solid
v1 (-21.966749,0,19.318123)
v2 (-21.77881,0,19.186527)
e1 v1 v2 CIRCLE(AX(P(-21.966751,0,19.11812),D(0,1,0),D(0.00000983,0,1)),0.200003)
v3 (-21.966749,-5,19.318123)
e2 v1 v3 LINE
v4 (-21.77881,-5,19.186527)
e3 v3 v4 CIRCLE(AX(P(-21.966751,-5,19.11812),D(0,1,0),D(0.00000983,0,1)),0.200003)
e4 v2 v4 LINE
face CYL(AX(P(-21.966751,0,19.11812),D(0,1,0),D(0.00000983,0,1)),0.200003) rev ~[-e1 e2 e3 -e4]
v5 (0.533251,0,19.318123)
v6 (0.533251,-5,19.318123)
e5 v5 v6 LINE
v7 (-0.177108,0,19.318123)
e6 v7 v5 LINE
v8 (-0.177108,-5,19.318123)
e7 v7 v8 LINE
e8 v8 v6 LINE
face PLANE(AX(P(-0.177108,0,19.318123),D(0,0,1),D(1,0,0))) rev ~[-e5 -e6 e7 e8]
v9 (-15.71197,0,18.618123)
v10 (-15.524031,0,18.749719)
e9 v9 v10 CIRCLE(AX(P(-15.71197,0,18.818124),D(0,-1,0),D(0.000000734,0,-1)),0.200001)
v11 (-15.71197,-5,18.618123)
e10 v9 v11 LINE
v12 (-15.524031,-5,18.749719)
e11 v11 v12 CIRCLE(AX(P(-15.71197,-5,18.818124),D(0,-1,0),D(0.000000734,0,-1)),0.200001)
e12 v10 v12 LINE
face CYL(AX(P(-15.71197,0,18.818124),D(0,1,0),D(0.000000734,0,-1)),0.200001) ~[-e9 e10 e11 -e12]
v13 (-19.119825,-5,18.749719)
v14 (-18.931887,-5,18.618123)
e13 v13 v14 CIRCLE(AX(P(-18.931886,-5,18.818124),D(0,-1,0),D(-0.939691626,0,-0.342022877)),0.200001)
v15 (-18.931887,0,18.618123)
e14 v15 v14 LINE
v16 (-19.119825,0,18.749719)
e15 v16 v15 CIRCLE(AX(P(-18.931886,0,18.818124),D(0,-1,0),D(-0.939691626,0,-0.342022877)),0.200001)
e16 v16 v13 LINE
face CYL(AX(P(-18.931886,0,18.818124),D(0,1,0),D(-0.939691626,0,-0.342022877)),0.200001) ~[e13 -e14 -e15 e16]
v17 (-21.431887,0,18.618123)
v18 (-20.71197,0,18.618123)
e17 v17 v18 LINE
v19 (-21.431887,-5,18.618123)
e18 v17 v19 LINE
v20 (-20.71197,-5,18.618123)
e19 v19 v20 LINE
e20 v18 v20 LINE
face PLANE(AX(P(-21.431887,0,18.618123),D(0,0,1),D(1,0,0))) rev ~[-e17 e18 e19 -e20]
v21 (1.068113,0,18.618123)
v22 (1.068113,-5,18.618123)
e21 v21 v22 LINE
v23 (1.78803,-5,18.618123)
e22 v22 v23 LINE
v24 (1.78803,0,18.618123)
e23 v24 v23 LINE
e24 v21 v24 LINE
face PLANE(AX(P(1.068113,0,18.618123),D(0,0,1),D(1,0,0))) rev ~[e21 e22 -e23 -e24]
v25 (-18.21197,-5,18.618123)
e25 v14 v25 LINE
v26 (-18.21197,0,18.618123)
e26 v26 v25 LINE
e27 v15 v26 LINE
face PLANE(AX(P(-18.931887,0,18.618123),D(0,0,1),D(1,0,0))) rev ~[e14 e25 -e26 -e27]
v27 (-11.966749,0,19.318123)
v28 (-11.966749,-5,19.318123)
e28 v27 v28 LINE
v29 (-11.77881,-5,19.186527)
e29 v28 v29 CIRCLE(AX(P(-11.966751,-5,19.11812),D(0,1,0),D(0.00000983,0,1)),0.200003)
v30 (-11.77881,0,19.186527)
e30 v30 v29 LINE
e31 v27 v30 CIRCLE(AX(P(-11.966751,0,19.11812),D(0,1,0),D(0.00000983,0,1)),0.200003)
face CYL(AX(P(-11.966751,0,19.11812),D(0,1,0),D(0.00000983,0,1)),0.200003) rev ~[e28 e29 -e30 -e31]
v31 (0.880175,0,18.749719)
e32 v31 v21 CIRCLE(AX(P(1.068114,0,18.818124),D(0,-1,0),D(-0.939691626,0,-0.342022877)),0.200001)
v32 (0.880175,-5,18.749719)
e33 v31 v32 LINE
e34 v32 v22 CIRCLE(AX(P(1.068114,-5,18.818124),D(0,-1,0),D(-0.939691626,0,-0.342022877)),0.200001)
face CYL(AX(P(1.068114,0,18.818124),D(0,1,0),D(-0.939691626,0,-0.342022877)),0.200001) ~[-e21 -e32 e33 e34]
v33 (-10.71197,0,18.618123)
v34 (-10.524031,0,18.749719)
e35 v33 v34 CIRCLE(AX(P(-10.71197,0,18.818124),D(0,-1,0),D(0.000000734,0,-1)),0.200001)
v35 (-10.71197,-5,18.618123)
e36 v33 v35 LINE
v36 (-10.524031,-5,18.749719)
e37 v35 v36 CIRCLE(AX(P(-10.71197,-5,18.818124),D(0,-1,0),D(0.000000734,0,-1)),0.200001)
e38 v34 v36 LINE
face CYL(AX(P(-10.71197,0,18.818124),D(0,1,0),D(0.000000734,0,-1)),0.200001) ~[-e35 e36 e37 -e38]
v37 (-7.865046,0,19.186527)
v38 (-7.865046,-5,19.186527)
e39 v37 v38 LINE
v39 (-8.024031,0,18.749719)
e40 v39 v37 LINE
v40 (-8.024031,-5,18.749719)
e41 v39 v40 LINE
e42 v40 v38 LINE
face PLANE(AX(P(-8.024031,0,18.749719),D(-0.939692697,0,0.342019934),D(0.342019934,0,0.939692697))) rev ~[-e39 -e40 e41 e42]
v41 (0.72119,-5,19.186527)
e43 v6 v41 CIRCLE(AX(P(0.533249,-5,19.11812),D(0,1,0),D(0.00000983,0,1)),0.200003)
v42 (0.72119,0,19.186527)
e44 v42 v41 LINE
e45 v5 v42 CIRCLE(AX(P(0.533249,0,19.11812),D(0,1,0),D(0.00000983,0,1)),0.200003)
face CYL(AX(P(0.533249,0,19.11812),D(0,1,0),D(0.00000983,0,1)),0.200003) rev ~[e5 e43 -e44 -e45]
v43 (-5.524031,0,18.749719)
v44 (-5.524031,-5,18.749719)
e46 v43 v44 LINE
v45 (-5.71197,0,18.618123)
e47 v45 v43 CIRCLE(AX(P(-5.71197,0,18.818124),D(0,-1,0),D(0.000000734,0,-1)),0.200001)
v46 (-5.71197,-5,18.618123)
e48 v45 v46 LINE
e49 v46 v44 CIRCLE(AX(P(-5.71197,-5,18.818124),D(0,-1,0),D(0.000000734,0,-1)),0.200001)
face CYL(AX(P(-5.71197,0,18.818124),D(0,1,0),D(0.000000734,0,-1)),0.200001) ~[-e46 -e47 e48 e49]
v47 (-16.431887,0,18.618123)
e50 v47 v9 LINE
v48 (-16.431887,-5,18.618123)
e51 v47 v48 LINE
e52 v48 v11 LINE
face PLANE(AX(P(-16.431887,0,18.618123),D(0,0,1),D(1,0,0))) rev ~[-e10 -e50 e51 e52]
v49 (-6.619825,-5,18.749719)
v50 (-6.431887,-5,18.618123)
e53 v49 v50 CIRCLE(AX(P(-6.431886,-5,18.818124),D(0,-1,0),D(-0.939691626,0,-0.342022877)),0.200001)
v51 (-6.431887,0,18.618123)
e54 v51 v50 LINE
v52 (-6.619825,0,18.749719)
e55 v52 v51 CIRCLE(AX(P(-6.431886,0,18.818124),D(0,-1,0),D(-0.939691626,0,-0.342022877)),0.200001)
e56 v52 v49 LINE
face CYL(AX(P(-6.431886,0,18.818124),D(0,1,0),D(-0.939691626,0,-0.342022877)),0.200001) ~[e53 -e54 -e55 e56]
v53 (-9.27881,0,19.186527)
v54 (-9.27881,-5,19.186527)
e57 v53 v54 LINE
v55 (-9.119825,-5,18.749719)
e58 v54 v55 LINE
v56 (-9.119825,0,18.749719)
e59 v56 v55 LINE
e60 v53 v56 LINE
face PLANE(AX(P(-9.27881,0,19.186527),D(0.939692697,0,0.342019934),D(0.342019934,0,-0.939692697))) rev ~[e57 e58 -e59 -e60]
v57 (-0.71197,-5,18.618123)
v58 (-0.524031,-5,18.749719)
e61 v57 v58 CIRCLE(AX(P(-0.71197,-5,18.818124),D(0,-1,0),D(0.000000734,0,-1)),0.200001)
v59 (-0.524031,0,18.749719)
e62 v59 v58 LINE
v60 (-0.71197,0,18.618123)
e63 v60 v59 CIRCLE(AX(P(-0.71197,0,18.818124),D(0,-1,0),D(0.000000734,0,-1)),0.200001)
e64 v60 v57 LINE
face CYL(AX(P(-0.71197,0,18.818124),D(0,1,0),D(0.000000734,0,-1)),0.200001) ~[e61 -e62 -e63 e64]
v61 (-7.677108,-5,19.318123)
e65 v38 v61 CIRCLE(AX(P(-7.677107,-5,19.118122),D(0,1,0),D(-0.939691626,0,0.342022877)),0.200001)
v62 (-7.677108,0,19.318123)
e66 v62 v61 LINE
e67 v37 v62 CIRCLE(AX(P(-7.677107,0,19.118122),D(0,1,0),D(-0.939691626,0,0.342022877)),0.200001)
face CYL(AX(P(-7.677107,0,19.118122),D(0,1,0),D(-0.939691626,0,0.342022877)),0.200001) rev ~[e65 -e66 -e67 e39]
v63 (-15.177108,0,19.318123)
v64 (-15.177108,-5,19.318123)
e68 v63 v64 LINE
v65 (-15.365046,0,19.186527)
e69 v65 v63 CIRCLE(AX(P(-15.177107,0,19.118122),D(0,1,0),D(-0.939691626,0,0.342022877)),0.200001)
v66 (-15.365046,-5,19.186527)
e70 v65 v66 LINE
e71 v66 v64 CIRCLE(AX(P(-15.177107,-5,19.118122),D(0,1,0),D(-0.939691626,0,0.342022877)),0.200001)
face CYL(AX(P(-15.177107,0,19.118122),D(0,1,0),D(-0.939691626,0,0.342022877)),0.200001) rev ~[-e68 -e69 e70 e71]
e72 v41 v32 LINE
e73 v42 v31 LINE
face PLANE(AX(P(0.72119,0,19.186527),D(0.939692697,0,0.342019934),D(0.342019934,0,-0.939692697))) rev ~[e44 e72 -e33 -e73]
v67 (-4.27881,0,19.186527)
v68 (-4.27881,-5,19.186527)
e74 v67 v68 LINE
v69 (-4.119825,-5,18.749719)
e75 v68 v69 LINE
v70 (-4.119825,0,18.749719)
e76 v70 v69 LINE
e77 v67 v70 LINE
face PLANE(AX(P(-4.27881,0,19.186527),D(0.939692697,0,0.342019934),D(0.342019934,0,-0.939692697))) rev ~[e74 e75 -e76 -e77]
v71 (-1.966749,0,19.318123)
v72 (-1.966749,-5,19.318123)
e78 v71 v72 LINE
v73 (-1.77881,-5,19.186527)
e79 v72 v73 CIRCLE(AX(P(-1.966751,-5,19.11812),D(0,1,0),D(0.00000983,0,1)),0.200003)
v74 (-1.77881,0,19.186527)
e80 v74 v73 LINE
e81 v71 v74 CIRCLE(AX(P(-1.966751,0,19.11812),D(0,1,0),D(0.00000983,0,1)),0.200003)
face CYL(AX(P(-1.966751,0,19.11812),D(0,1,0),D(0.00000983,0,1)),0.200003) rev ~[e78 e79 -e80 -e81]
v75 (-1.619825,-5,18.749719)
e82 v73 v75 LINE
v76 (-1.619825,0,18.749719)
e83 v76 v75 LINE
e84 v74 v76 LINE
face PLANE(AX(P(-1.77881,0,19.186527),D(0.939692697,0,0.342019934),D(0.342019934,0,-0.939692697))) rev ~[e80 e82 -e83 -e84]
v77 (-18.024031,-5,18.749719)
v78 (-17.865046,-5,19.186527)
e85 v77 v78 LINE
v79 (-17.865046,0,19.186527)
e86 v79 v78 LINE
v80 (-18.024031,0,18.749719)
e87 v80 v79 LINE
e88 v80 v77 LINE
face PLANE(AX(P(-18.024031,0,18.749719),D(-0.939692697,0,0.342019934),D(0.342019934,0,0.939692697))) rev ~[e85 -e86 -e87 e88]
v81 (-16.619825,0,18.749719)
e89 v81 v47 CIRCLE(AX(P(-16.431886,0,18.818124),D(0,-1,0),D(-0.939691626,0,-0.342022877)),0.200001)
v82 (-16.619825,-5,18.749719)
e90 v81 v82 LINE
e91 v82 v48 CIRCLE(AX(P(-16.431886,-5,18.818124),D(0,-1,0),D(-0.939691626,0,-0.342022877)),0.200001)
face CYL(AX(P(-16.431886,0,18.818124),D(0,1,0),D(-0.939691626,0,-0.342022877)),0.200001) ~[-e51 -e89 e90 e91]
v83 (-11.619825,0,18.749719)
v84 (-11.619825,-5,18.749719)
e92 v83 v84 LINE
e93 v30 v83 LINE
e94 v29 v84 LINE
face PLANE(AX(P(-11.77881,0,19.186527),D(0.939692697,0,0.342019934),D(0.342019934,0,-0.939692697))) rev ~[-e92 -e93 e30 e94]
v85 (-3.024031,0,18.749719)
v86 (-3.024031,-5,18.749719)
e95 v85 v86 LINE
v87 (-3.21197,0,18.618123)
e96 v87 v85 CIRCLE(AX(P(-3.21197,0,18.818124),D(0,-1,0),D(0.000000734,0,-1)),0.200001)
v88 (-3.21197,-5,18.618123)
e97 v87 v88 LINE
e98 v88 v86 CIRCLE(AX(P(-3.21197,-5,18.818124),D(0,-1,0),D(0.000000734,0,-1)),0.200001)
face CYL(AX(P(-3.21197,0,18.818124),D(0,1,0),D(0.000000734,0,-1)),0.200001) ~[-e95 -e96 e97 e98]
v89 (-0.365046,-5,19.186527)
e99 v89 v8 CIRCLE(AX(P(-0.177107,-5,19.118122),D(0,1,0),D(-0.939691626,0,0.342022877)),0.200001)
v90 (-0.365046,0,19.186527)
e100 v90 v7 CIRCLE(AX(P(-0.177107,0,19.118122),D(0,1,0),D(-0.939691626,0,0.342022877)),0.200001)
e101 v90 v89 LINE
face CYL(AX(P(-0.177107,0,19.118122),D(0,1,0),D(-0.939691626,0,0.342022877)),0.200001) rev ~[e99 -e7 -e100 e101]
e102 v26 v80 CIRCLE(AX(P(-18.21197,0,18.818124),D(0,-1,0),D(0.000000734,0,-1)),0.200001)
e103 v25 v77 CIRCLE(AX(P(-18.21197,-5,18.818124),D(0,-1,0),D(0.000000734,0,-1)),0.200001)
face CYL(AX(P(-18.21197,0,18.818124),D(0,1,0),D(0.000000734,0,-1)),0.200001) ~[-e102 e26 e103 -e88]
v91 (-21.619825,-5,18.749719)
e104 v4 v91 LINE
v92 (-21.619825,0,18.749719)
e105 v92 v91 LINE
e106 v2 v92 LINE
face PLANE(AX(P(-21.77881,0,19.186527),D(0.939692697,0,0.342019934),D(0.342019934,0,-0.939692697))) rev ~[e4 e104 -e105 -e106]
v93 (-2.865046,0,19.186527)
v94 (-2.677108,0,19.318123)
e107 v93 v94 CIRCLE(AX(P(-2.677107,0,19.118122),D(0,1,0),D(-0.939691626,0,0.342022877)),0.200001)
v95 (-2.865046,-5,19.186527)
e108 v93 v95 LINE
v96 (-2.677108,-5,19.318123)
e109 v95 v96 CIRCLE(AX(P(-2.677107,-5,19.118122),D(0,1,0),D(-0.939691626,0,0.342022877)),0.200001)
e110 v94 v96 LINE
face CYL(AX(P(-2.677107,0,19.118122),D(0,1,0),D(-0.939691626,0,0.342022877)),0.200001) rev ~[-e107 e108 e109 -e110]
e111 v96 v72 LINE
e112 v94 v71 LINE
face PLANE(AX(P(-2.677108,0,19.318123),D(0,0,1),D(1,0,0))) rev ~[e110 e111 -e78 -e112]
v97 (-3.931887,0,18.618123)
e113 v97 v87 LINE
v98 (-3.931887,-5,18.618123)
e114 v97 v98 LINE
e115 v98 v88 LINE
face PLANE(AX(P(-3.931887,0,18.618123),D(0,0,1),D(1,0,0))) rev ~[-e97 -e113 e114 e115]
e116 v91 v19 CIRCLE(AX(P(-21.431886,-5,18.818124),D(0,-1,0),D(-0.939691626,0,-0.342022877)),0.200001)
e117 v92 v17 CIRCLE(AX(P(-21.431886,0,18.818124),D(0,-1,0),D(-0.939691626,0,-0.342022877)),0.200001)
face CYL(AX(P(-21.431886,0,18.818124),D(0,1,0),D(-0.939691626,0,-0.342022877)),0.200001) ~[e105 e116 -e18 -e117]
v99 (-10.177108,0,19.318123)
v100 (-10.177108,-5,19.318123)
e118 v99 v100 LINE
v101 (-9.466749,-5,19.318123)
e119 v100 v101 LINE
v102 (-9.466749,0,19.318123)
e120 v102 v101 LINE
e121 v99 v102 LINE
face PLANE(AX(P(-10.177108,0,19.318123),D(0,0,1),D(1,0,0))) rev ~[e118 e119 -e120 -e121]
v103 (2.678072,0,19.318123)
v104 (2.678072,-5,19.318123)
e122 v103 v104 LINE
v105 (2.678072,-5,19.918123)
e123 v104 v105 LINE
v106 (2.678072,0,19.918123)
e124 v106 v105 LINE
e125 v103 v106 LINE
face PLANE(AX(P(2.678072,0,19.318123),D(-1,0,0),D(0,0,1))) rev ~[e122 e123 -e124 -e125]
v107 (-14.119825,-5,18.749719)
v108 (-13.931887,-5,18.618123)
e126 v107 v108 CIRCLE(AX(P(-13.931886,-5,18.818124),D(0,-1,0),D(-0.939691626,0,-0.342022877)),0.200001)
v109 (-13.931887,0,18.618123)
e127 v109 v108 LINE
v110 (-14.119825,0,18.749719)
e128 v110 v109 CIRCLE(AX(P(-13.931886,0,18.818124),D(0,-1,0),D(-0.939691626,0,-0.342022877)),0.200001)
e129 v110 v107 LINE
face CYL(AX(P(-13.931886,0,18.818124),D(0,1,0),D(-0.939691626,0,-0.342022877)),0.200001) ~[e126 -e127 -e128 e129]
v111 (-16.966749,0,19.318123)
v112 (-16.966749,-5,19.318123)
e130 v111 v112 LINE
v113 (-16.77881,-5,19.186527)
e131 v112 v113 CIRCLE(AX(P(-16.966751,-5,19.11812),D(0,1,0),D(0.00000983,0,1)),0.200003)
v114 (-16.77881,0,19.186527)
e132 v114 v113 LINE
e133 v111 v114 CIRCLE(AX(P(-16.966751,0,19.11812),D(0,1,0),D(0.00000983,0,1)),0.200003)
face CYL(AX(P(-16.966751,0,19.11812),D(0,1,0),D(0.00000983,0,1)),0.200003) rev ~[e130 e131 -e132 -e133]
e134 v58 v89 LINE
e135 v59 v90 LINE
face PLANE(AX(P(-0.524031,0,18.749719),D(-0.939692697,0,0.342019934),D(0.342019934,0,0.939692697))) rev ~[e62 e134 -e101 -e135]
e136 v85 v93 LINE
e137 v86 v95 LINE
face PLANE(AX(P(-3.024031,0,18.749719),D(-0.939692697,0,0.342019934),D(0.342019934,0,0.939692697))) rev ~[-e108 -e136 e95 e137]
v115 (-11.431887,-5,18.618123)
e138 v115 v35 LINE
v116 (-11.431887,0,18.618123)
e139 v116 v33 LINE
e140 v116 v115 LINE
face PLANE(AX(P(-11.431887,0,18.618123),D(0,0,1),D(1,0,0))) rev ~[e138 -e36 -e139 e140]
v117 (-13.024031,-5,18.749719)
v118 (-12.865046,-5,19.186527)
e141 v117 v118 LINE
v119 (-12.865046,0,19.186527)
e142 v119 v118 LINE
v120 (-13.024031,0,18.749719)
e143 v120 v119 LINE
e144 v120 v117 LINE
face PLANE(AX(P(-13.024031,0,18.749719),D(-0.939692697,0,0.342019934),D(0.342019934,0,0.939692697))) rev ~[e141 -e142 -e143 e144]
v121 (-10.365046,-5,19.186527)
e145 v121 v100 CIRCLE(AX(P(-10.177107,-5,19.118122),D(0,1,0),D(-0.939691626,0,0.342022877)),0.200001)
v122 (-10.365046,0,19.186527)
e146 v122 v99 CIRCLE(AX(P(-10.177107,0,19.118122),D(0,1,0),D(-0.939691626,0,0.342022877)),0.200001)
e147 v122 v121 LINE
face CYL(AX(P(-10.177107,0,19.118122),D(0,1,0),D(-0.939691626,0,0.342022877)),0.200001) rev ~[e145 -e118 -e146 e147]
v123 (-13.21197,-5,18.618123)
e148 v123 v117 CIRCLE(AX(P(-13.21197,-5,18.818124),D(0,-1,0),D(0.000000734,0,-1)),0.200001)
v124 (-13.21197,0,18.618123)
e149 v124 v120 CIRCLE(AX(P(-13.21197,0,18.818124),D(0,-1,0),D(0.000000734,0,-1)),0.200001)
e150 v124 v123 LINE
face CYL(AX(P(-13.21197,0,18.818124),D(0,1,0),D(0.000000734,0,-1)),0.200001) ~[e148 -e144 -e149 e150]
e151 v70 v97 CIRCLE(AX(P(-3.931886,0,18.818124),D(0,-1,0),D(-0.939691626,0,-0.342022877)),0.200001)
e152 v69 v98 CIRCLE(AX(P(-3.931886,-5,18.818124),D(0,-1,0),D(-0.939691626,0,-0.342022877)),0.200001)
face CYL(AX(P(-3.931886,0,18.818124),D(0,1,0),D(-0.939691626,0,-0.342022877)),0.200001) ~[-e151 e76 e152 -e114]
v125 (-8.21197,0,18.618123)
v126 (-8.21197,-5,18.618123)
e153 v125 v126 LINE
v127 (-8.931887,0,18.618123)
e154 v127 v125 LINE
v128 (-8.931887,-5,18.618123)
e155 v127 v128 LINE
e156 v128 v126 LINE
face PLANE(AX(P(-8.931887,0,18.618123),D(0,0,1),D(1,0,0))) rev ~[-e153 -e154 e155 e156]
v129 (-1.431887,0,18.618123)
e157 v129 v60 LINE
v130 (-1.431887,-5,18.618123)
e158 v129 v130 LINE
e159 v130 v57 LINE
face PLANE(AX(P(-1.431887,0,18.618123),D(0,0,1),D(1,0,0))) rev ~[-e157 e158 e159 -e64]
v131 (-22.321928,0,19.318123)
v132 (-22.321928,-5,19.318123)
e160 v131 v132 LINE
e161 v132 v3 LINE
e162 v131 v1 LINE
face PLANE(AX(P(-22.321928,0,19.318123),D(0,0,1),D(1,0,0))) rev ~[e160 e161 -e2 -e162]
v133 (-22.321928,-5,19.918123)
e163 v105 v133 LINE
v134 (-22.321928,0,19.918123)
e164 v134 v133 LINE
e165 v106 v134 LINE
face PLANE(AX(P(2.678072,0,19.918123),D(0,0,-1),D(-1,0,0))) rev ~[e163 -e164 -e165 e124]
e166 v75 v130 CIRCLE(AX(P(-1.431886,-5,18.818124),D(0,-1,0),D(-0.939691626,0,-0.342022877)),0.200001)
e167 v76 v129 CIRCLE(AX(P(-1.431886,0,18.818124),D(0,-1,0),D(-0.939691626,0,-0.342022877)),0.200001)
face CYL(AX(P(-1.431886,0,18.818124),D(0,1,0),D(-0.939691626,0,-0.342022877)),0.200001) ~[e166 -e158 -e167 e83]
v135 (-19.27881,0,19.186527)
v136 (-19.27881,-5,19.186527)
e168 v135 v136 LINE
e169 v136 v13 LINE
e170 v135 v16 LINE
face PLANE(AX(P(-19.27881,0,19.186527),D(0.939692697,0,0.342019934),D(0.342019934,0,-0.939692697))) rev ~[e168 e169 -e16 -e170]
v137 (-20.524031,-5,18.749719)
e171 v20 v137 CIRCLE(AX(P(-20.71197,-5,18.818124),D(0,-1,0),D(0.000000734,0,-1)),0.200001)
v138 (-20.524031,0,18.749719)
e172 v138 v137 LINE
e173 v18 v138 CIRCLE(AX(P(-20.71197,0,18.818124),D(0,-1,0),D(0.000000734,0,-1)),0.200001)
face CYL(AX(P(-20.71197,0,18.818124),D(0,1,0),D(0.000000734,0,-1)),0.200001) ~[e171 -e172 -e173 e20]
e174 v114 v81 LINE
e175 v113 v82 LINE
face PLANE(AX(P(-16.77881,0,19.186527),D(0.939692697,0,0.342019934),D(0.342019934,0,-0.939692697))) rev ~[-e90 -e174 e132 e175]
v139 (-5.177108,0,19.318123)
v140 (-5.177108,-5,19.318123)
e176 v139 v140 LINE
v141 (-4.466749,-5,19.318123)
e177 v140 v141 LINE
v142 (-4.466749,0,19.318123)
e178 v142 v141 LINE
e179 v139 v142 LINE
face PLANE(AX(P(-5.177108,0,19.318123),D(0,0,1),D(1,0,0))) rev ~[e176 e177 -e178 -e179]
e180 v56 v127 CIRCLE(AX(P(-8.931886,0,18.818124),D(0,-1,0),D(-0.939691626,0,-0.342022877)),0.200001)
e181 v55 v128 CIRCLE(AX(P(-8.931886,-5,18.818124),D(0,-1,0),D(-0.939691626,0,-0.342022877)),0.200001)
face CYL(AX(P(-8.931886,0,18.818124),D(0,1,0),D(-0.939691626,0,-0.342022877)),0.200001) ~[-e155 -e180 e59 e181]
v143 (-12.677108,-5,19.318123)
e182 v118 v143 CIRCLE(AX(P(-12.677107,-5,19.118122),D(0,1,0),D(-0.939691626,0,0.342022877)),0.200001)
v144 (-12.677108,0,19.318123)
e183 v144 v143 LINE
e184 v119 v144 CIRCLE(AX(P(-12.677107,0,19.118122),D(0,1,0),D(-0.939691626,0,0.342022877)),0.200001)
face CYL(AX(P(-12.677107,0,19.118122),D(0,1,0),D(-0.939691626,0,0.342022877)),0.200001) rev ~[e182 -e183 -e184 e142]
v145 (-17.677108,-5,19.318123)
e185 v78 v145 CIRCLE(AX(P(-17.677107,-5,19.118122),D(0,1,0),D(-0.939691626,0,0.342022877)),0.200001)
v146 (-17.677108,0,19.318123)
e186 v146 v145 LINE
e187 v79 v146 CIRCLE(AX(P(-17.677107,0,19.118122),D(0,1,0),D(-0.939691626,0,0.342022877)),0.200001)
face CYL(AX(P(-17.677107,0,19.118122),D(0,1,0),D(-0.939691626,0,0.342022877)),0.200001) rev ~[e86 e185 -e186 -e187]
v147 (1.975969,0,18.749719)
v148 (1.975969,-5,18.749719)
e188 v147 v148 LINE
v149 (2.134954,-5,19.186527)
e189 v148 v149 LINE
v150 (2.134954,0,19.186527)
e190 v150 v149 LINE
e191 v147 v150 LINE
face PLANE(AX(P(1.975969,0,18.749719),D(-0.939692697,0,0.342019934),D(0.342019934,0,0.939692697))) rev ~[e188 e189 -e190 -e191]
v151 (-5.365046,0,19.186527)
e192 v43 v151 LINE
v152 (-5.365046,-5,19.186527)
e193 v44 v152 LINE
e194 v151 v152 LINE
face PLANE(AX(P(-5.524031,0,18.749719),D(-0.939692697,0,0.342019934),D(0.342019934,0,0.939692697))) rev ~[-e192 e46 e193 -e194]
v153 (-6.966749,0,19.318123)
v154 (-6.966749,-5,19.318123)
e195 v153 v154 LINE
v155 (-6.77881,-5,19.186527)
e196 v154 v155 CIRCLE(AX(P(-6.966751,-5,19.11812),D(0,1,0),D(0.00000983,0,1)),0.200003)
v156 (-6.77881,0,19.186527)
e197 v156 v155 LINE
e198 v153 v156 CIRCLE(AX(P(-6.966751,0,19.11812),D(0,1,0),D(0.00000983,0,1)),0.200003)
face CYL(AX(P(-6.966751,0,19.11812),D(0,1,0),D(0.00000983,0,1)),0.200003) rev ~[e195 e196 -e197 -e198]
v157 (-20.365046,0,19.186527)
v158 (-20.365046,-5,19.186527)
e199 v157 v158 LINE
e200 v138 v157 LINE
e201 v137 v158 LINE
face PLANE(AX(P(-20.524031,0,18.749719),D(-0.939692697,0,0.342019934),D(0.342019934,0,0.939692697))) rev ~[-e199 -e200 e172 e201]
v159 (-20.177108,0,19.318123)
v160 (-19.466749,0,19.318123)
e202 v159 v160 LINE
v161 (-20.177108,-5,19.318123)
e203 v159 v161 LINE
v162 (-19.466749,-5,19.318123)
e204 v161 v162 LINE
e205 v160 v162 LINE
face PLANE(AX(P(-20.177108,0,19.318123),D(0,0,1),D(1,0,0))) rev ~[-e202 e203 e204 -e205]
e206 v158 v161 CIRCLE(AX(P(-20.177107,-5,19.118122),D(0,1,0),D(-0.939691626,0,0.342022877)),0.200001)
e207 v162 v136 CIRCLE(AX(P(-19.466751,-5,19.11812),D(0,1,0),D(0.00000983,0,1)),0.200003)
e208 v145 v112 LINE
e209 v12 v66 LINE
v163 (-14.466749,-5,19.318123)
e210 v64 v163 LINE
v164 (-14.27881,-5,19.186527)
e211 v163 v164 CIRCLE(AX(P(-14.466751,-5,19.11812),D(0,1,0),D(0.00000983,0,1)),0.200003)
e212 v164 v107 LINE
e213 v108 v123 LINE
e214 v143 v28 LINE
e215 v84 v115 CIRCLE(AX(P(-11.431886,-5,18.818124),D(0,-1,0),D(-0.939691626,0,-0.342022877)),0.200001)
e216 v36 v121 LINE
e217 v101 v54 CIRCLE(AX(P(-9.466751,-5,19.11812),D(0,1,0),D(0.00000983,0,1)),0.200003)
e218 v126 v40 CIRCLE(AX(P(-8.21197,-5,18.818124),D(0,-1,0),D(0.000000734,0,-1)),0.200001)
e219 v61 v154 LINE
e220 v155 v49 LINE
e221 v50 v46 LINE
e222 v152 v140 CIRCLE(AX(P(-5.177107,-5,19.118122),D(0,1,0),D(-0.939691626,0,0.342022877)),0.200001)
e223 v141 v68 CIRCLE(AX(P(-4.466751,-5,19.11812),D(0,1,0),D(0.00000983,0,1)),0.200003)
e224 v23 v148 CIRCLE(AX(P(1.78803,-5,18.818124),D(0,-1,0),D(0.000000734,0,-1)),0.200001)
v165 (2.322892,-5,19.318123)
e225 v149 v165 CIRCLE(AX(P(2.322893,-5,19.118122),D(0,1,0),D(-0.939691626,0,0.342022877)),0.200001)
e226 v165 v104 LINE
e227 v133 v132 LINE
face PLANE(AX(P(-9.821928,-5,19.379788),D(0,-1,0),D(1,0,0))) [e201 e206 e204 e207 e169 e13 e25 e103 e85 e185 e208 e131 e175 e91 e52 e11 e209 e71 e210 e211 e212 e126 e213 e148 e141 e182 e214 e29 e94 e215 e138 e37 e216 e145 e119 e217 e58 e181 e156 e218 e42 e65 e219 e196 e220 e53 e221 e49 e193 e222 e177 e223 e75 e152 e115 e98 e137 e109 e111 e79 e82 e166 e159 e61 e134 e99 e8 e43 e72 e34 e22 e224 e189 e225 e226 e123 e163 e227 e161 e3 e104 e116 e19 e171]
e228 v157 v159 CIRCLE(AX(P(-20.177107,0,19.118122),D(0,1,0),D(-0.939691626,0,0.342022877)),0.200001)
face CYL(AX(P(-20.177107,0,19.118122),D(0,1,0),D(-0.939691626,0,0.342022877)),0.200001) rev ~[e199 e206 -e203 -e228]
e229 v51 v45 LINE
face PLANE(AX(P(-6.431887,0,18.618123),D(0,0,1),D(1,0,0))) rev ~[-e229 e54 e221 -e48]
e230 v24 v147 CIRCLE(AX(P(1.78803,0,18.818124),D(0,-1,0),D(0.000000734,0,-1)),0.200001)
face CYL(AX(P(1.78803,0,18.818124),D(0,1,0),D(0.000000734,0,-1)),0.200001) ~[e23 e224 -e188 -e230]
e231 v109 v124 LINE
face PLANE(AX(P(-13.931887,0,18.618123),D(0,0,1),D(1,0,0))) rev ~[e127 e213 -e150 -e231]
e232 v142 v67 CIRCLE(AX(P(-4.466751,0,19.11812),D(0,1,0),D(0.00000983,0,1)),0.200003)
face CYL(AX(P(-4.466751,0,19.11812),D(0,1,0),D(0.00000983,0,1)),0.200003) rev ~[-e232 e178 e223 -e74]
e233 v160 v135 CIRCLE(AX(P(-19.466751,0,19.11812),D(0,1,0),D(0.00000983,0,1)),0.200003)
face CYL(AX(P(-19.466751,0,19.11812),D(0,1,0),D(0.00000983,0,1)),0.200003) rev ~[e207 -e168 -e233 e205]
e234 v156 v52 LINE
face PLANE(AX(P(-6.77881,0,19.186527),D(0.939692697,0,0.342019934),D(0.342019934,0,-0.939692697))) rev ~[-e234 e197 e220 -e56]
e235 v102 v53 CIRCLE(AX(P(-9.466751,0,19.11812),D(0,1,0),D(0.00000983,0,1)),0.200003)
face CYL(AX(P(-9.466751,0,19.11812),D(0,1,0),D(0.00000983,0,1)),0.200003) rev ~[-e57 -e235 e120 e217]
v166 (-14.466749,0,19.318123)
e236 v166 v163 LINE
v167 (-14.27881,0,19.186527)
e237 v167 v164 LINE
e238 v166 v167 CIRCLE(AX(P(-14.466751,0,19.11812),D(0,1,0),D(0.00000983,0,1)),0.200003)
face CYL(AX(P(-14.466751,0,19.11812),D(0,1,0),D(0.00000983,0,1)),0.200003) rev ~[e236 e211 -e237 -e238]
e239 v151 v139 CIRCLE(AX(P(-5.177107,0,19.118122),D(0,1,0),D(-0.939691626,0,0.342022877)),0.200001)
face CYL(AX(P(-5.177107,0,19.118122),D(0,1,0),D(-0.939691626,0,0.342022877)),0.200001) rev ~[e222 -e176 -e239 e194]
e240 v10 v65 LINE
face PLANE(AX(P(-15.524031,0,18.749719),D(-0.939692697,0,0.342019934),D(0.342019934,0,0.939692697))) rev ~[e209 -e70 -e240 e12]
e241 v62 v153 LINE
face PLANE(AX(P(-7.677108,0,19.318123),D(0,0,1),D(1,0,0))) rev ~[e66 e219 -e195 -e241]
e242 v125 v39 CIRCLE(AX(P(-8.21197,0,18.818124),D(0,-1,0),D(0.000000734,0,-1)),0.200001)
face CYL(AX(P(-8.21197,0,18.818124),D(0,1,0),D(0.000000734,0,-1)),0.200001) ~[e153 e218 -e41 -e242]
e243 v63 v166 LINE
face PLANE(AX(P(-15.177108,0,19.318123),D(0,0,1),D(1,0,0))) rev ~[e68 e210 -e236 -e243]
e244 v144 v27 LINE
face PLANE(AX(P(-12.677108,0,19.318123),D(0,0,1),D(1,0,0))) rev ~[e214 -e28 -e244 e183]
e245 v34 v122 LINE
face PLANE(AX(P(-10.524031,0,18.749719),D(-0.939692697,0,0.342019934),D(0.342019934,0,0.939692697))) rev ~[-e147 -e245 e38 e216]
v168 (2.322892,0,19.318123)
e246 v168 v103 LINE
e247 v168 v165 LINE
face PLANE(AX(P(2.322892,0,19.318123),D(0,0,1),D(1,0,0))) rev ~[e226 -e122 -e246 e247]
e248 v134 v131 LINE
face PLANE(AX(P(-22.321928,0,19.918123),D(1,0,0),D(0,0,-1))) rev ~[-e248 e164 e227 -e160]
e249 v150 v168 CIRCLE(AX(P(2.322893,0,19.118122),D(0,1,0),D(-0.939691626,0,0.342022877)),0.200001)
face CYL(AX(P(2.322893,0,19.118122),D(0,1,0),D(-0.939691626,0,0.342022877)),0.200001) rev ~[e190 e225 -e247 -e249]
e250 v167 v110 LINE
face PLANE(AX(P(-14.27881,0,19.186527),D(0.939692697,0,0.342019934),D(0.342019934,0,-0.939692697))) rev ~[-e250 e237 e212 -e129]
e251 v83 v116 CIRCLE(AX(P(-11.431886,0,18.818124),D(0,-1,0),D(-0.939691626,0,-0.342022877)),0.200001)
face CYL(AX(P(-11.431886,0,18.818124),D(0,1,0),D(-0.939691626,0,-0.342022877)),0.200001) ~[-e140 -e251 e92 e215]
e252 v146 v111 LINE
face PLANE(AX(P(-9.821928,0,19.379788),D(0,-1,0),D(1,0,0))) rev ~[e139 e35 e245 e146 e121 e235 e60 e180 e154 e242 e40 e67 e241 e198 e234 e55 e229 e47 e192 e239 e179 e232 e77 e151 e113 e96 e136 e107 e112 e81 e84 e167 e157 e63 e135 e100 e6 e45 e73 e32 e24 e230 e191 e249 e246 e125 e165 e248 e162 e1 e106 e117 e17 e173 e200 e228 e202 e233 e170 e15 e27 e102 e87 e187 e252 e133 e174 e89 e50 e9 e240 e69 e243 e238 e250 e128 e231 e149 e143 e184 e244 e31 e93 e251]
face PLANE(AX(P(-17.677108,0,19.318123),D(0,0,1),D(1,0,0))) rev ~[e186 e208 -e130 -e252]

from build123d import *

# Parameters (mm, degrees)
F1_DEPTH = 5


with BuildPart() as f1:
    # F0 (on Front) → F1 (new body)
    with BuildSketch(Plane.XZ):
        with BuildLine():
            Line((-19.821928, 19.918123), (-21.071928, 19.918123))
            Line((-21.071928, 19.918123), (-22.321928, 19.918123))
            Line((-22.321928, 19.918123), (-22.321928, 19.318123))
            Line((-22.321928, 19.318123), (-21.966749, 19.318123))
            ThreePointArc((-21.966749, 19.318123), (-21.852034, 19.281953), (-21.77881, 19.186527))
            Line((-21.77881, 19.186527), (-21.619825, 18.749719))
            ThreePointArc((-21.619825, 18.749719), (-21.546602, 18.654293), (-21.431887, 18.618123))
            Line((-21.431887, 18.618123), (-21.071928, 18.618123))
            Line((-21.071928, 18.618123), (-20.71197, 18.618123))
            ThreePointArc((-20.71197, 18.618123), (-20.597254, 18.654293), (-20.524031, 18.749719))
            Line((-20.524031, 18.749719), (-20.365046, 19.186527))
            ThreePointArc((-20.365046, 19.186527), (-20.291823, 19.281953), (-20.177108, 19.318123))
            Line((-20.177108, 19.318123), (-19.821928, 19.318123))
            Line((-19.821928, 19.318123), (-19.466749, 19.318123))
            ThreePointArc((-19.466749, 19.318123), (-19.352034, 19.281953), (-19.27881, 19.186527))
            Line((-19.27881, 19.186527), (-19.119825, 18.749719))
            ThreePointArc((-19.119825, 18.749719), (-19.046602, 18.654293), (-18.931887, 18.618123))
            Line((-18.931887, 18.618123), (-18.571928, 18.618123))
            Line((-18.571928, 18.618123), (-18.21197, 18.618123))
            ThreePointArc((-18.21197, 18.618123), (-18.097254, 18.654293), (-18.024031, 18.749719))
            Line((-18.024031, 18.749719), (-17.865046, 19.186527))
            ThreePointArc((-17.865046, 19.186527), (-17.791823, 19.281953), (-17.677108, 19.318123))
            Line((-17.677108, 19.318123), (-17.321928, 19.318123))
            Line((-17.321928, 19.318123), (-16.966749, 19.318123))
            ThreePointArc((-16.966749, 19.318123), (-16.852034, 19.281953), (-16.77881, 19.186527))
            Line((-16.77881, 19.186527), (-16.619825, 18.749719))
            ThreePointArc((-16.619825, 18.749719), (-16.546602, 18.654293), (-16.431887, 18.618123))
            Line((-16.431887, 18.618123), (-16.071928, 18.618123))
            Line((-16.071928, 18.618123), (-15.71197, 18.618123))
            ThreePointArc((-15.71197, 18.618123), (-15.597254, 18.654293), (-15.524031, 18.749719))
            Line((-15.524031, 18.749719), (-15.365046, 19.186527))
            ThreePointArc((-15.365046, 19.186527), (-15.291823, 19.281953), (-15.177108, 19.318123))
            Line((-15.177108, 19.318123), (-14.821928, 19.318123))
            Line((-14.821928, 19.318123), (-14.466749, 19.318123))
            ThreePointArc((-14.466749, 19.318123), (-14.352034, 19.281953), (-14.27881, 19.186527))
            Line((-14.27881, 19.186527), (-14.119825, 18.749719))
            ThreePointArc((-14.119825, 18.749719), (-14.046602, 18.654293), (-13.931887, 18.618123))
            Line((-13.931887, 18.618123), (-13.571928, 18.618123))
            Line((-13.571928, 18.618123), (-13.21197, 18.618123))
            ThreePointArc((-13.21197, 18.618123), (-13.097254, 18.654293), (-13.024031, 18.749719))
            Line((-13.024031, 18.749719), (-12.865046, 19.186527))
            ThreePointArc((-12.865046, 19.186527), (-12.791823, 19.281953), (-12.677108, 19.318123))
            Line((-12.677108, 19.318123), (-12.321928, 19.318123))
            Line((-12.321928, 19.318123), (-11.966749, 19.318123))
            ThreePointArc((-11.966749, 19.318123), (-11.852034, 19.281953), (-11.77881, 19.186527))
            Line((-11.77881, 19.186527), (-11.619825, 18.749719))
            ThreePointArc((-11.619825, 18.749719), (-11.546602, 18.654293), (-11.431887, 18.618123))
            Line((-11.431887, 18.618123), (-11.071928, 18.618123))
            Line((-11.071928, 18.618123), (-10.71197, 18.618123))
            ThreePointArc((-10.71197, 18.618123), (-10.597254, 18.654293), (-10.524031, 18.749719))
            Line((-10.524031, 18.749719), (-10.365046, 19.186527))
            ThreePointArc((-10.365046, 19.186527), (-10.291823, 19.281953), (-10.177108, 19.318123))
            Line((-10.177108, 19.318123), (-9.821928, 19.318123))
            Line((-9.821928, 19.318123), (-9.466749, 19.318123))
            ThreePointArc((-9.466749, 19.318123), (-9.352034, 19.281953), (-9.27881, 19.186527))
            Line((-9.27881, 19.186527), (-9.119825, 18.749719))
            ThreePointArc((-9.119825, 18.749719), (-9.046602, 18.654293), (-8.931887, 18.618123))
            Line((-8.931887, 18.618123), (-8.571928, 18.618123))
            Line((-8.571928, 18.618123), (-8.21197, 18.618123))
            ThreePointArc((-8.21197, 18.618123), (-8.097254, 18.654293), (-8.024031, 18.749719))
            Line((-8.024031, 18.749719), (-7.865046, 19.186527))
            ThreePointArc((-7.865046, 19.186527), (-7.791823, 19.281953), (-7.677108, 19.318123))
            Line((-7.677108, 19.318123), (-7.321928, 19.318123))
            Line((-7.321928, 19.318123), (-6.966749, 19.318123))
            ThreePointArc((-6.966749, 19.318123), (-6.852034, 19.281953), (-6.77881, 19.186527))
            Line((-6.77881, 19.186527), (-6.619825, 18.749719))
            ThreePointArc((-6.619825, 18.749719), (-6.546602, 18.654293), (-6.431887, 18.618123))
            Line((-6.431887, 18.618123), (-6.071928, 18.618123))
            Line((-6.071928, 18.618123), (-5.71197, 18.618123))
            ThreePointArc((-5.71197, 18.618123), (-5.597254, 18.654293), (-5.524031, 18.749719))
            Line((-5.524031, 18.749719), (-5.365046, 19.186527))
            ThreePointArc((-5.365046, 19.186527), (-5.291823, 19.281953), (-5.177108, 19.318123))
            Line((-5.177108, 19.318123), (-4.821928, 19.318123))
            Line((-4.821928, 19.318123), (-4.466749, 19.318123))
            ThreePointArc((-4.466749, 19.318123), (-4.352034, 19.281953), (-4.27881, 19.186527))
            Line((-4.27881, 19.186527), (-4.119825, 18.749719))
            ThreePointArc((-4.119825, 18.749719), (-4.046602, 18.654293), (-3.931887, 18.618123))
            Line((-3.931887, 18.618123), (-3.571928, 18.618123))
            Line((-3.571928, 18.618123), (-3.21197, 18.618123))
            ThreePointArc((-3.21197, 18.618123), (-3.097254, 18.654293), (-3.024031, 18.749719))
            Line((-3.024031, 18.749719), (-2.865046, 19.186527))
            ThreePointArc((-2.865046, 19.186527), (-2.791823, 19.281953), (-2.677108, 19.318123))
            Line((-2.677108, 19.318123), (-2.321928, 19.318123))
            Line((-2.321928, 19.318123), (-1.966749, 19.318123))
            ThreePointArc((-1.966749, 19.318123), (-1.852034, 19.281953), (-1.77881, 19.186527))
            Line((-1.77881, 19.186527), (-1.619825, 18.749719))
            ThreePointArc((-1.619825, 18.749719), (-1.546602, 18.654293), (-1.431887, 18.618123))
            Line((-1.431887, 18.618123), (-1.071928, 18.618123))
            Line((-1.071928, 18.618123), (-0.71197, 18.618123))
            ThreePointArc((-0.71197, 18.618123), (-0.597254, 18.654293), (-0.524031, 18.749719))
            Line((-0.524031, 18.749719), (-0.365046, 19.186527))
            ThreePointArc((-0.365046, 19.186527), (-0.291823, 19.281953), (-0.177108, 19.318123))
            Line((-0.177108, 19.318123), (0.178072, 19.318123))
            Line((0.178072, 19.318123), (0.533251, 19.318123))
            ThreePointArc((0.533251, 19.318123), (0.647966, 19.281953), (0.72119, 19.186527))
            Line((0.72119, 19.186527), (0.880175, 18.749719))
            ThreePointArc((0.880175, 18.749719), (0.953398, 18.654293), (1.068113, 18.618123))
            Line((1.068113, 18.618123), (1.428072, 18.618123))
            Line((1.428072, 18.618123), (1.78803, 18.618123))
            ThreePointArc((1.78803, 18.618123), (1.902746, 18.654293), (1.975969, 18.749719))
            Line((1.975969, 18.749719), (2.134954, 19.186527))
            ThreePointArc((2.134954, 19.186527), (2.208177, 19.281953), (2.322892, 19.318123))
            Line((2.322892, 19.318123), (2.678072, 19.318123))
            Line((2.678072, 19.318123), (2.678072, 19.918123))
            Line((2.678072, 19.918123), (1.428072, 19.918123))
            Line((1.428072, 19.918123), (0.178072, 19.918123))
            Line((0.178072, 19.918123), (-1.071928, 19.918123))
            Line((-1.071928, 19.918123), (-2.321928, 19.918123))
            Line((-2.321928, 19.918123), (-3.571928, 19.918123))
            Line((-3.571928, 19.918123), (-4.821928, 19.918123))
            Line((-4.821928, 19.918123), (-6.071928, 19.918123))
            Line((-6.071928, 19.918123), (-7.321928, 19.918123))
            Line((-7.321928, 19.918123), (-8.571928, 19.918123))
            Line((-8.571928, 19.918123), (-9.821928, 19.918123))
            Line((-9.821928, 19.918123), (-11.071928, 19.918123))
            Line((-11.071928, 19.918123), (-12.321928, 19.918123))
            Line((-12.321928, 19.918123), (-13.571928, 19.918123))
            Line((-13.571928, 19.918123), (-14.821928, 19.918123))
            Line((-14.821928, 19.918123), (-16.071928, 19.918123))
            Line((-16.071928, 19.918123), (-17.321928, 19.918123))
            Line((-17.321928, 19.918123), (-18.571928, 19.918123))
            Line((-18.571928, 19.918123), (-19.821928, 19.918123))
        make_face()
    extrude(amount=F1_DEPTH)


solid = f1.part
